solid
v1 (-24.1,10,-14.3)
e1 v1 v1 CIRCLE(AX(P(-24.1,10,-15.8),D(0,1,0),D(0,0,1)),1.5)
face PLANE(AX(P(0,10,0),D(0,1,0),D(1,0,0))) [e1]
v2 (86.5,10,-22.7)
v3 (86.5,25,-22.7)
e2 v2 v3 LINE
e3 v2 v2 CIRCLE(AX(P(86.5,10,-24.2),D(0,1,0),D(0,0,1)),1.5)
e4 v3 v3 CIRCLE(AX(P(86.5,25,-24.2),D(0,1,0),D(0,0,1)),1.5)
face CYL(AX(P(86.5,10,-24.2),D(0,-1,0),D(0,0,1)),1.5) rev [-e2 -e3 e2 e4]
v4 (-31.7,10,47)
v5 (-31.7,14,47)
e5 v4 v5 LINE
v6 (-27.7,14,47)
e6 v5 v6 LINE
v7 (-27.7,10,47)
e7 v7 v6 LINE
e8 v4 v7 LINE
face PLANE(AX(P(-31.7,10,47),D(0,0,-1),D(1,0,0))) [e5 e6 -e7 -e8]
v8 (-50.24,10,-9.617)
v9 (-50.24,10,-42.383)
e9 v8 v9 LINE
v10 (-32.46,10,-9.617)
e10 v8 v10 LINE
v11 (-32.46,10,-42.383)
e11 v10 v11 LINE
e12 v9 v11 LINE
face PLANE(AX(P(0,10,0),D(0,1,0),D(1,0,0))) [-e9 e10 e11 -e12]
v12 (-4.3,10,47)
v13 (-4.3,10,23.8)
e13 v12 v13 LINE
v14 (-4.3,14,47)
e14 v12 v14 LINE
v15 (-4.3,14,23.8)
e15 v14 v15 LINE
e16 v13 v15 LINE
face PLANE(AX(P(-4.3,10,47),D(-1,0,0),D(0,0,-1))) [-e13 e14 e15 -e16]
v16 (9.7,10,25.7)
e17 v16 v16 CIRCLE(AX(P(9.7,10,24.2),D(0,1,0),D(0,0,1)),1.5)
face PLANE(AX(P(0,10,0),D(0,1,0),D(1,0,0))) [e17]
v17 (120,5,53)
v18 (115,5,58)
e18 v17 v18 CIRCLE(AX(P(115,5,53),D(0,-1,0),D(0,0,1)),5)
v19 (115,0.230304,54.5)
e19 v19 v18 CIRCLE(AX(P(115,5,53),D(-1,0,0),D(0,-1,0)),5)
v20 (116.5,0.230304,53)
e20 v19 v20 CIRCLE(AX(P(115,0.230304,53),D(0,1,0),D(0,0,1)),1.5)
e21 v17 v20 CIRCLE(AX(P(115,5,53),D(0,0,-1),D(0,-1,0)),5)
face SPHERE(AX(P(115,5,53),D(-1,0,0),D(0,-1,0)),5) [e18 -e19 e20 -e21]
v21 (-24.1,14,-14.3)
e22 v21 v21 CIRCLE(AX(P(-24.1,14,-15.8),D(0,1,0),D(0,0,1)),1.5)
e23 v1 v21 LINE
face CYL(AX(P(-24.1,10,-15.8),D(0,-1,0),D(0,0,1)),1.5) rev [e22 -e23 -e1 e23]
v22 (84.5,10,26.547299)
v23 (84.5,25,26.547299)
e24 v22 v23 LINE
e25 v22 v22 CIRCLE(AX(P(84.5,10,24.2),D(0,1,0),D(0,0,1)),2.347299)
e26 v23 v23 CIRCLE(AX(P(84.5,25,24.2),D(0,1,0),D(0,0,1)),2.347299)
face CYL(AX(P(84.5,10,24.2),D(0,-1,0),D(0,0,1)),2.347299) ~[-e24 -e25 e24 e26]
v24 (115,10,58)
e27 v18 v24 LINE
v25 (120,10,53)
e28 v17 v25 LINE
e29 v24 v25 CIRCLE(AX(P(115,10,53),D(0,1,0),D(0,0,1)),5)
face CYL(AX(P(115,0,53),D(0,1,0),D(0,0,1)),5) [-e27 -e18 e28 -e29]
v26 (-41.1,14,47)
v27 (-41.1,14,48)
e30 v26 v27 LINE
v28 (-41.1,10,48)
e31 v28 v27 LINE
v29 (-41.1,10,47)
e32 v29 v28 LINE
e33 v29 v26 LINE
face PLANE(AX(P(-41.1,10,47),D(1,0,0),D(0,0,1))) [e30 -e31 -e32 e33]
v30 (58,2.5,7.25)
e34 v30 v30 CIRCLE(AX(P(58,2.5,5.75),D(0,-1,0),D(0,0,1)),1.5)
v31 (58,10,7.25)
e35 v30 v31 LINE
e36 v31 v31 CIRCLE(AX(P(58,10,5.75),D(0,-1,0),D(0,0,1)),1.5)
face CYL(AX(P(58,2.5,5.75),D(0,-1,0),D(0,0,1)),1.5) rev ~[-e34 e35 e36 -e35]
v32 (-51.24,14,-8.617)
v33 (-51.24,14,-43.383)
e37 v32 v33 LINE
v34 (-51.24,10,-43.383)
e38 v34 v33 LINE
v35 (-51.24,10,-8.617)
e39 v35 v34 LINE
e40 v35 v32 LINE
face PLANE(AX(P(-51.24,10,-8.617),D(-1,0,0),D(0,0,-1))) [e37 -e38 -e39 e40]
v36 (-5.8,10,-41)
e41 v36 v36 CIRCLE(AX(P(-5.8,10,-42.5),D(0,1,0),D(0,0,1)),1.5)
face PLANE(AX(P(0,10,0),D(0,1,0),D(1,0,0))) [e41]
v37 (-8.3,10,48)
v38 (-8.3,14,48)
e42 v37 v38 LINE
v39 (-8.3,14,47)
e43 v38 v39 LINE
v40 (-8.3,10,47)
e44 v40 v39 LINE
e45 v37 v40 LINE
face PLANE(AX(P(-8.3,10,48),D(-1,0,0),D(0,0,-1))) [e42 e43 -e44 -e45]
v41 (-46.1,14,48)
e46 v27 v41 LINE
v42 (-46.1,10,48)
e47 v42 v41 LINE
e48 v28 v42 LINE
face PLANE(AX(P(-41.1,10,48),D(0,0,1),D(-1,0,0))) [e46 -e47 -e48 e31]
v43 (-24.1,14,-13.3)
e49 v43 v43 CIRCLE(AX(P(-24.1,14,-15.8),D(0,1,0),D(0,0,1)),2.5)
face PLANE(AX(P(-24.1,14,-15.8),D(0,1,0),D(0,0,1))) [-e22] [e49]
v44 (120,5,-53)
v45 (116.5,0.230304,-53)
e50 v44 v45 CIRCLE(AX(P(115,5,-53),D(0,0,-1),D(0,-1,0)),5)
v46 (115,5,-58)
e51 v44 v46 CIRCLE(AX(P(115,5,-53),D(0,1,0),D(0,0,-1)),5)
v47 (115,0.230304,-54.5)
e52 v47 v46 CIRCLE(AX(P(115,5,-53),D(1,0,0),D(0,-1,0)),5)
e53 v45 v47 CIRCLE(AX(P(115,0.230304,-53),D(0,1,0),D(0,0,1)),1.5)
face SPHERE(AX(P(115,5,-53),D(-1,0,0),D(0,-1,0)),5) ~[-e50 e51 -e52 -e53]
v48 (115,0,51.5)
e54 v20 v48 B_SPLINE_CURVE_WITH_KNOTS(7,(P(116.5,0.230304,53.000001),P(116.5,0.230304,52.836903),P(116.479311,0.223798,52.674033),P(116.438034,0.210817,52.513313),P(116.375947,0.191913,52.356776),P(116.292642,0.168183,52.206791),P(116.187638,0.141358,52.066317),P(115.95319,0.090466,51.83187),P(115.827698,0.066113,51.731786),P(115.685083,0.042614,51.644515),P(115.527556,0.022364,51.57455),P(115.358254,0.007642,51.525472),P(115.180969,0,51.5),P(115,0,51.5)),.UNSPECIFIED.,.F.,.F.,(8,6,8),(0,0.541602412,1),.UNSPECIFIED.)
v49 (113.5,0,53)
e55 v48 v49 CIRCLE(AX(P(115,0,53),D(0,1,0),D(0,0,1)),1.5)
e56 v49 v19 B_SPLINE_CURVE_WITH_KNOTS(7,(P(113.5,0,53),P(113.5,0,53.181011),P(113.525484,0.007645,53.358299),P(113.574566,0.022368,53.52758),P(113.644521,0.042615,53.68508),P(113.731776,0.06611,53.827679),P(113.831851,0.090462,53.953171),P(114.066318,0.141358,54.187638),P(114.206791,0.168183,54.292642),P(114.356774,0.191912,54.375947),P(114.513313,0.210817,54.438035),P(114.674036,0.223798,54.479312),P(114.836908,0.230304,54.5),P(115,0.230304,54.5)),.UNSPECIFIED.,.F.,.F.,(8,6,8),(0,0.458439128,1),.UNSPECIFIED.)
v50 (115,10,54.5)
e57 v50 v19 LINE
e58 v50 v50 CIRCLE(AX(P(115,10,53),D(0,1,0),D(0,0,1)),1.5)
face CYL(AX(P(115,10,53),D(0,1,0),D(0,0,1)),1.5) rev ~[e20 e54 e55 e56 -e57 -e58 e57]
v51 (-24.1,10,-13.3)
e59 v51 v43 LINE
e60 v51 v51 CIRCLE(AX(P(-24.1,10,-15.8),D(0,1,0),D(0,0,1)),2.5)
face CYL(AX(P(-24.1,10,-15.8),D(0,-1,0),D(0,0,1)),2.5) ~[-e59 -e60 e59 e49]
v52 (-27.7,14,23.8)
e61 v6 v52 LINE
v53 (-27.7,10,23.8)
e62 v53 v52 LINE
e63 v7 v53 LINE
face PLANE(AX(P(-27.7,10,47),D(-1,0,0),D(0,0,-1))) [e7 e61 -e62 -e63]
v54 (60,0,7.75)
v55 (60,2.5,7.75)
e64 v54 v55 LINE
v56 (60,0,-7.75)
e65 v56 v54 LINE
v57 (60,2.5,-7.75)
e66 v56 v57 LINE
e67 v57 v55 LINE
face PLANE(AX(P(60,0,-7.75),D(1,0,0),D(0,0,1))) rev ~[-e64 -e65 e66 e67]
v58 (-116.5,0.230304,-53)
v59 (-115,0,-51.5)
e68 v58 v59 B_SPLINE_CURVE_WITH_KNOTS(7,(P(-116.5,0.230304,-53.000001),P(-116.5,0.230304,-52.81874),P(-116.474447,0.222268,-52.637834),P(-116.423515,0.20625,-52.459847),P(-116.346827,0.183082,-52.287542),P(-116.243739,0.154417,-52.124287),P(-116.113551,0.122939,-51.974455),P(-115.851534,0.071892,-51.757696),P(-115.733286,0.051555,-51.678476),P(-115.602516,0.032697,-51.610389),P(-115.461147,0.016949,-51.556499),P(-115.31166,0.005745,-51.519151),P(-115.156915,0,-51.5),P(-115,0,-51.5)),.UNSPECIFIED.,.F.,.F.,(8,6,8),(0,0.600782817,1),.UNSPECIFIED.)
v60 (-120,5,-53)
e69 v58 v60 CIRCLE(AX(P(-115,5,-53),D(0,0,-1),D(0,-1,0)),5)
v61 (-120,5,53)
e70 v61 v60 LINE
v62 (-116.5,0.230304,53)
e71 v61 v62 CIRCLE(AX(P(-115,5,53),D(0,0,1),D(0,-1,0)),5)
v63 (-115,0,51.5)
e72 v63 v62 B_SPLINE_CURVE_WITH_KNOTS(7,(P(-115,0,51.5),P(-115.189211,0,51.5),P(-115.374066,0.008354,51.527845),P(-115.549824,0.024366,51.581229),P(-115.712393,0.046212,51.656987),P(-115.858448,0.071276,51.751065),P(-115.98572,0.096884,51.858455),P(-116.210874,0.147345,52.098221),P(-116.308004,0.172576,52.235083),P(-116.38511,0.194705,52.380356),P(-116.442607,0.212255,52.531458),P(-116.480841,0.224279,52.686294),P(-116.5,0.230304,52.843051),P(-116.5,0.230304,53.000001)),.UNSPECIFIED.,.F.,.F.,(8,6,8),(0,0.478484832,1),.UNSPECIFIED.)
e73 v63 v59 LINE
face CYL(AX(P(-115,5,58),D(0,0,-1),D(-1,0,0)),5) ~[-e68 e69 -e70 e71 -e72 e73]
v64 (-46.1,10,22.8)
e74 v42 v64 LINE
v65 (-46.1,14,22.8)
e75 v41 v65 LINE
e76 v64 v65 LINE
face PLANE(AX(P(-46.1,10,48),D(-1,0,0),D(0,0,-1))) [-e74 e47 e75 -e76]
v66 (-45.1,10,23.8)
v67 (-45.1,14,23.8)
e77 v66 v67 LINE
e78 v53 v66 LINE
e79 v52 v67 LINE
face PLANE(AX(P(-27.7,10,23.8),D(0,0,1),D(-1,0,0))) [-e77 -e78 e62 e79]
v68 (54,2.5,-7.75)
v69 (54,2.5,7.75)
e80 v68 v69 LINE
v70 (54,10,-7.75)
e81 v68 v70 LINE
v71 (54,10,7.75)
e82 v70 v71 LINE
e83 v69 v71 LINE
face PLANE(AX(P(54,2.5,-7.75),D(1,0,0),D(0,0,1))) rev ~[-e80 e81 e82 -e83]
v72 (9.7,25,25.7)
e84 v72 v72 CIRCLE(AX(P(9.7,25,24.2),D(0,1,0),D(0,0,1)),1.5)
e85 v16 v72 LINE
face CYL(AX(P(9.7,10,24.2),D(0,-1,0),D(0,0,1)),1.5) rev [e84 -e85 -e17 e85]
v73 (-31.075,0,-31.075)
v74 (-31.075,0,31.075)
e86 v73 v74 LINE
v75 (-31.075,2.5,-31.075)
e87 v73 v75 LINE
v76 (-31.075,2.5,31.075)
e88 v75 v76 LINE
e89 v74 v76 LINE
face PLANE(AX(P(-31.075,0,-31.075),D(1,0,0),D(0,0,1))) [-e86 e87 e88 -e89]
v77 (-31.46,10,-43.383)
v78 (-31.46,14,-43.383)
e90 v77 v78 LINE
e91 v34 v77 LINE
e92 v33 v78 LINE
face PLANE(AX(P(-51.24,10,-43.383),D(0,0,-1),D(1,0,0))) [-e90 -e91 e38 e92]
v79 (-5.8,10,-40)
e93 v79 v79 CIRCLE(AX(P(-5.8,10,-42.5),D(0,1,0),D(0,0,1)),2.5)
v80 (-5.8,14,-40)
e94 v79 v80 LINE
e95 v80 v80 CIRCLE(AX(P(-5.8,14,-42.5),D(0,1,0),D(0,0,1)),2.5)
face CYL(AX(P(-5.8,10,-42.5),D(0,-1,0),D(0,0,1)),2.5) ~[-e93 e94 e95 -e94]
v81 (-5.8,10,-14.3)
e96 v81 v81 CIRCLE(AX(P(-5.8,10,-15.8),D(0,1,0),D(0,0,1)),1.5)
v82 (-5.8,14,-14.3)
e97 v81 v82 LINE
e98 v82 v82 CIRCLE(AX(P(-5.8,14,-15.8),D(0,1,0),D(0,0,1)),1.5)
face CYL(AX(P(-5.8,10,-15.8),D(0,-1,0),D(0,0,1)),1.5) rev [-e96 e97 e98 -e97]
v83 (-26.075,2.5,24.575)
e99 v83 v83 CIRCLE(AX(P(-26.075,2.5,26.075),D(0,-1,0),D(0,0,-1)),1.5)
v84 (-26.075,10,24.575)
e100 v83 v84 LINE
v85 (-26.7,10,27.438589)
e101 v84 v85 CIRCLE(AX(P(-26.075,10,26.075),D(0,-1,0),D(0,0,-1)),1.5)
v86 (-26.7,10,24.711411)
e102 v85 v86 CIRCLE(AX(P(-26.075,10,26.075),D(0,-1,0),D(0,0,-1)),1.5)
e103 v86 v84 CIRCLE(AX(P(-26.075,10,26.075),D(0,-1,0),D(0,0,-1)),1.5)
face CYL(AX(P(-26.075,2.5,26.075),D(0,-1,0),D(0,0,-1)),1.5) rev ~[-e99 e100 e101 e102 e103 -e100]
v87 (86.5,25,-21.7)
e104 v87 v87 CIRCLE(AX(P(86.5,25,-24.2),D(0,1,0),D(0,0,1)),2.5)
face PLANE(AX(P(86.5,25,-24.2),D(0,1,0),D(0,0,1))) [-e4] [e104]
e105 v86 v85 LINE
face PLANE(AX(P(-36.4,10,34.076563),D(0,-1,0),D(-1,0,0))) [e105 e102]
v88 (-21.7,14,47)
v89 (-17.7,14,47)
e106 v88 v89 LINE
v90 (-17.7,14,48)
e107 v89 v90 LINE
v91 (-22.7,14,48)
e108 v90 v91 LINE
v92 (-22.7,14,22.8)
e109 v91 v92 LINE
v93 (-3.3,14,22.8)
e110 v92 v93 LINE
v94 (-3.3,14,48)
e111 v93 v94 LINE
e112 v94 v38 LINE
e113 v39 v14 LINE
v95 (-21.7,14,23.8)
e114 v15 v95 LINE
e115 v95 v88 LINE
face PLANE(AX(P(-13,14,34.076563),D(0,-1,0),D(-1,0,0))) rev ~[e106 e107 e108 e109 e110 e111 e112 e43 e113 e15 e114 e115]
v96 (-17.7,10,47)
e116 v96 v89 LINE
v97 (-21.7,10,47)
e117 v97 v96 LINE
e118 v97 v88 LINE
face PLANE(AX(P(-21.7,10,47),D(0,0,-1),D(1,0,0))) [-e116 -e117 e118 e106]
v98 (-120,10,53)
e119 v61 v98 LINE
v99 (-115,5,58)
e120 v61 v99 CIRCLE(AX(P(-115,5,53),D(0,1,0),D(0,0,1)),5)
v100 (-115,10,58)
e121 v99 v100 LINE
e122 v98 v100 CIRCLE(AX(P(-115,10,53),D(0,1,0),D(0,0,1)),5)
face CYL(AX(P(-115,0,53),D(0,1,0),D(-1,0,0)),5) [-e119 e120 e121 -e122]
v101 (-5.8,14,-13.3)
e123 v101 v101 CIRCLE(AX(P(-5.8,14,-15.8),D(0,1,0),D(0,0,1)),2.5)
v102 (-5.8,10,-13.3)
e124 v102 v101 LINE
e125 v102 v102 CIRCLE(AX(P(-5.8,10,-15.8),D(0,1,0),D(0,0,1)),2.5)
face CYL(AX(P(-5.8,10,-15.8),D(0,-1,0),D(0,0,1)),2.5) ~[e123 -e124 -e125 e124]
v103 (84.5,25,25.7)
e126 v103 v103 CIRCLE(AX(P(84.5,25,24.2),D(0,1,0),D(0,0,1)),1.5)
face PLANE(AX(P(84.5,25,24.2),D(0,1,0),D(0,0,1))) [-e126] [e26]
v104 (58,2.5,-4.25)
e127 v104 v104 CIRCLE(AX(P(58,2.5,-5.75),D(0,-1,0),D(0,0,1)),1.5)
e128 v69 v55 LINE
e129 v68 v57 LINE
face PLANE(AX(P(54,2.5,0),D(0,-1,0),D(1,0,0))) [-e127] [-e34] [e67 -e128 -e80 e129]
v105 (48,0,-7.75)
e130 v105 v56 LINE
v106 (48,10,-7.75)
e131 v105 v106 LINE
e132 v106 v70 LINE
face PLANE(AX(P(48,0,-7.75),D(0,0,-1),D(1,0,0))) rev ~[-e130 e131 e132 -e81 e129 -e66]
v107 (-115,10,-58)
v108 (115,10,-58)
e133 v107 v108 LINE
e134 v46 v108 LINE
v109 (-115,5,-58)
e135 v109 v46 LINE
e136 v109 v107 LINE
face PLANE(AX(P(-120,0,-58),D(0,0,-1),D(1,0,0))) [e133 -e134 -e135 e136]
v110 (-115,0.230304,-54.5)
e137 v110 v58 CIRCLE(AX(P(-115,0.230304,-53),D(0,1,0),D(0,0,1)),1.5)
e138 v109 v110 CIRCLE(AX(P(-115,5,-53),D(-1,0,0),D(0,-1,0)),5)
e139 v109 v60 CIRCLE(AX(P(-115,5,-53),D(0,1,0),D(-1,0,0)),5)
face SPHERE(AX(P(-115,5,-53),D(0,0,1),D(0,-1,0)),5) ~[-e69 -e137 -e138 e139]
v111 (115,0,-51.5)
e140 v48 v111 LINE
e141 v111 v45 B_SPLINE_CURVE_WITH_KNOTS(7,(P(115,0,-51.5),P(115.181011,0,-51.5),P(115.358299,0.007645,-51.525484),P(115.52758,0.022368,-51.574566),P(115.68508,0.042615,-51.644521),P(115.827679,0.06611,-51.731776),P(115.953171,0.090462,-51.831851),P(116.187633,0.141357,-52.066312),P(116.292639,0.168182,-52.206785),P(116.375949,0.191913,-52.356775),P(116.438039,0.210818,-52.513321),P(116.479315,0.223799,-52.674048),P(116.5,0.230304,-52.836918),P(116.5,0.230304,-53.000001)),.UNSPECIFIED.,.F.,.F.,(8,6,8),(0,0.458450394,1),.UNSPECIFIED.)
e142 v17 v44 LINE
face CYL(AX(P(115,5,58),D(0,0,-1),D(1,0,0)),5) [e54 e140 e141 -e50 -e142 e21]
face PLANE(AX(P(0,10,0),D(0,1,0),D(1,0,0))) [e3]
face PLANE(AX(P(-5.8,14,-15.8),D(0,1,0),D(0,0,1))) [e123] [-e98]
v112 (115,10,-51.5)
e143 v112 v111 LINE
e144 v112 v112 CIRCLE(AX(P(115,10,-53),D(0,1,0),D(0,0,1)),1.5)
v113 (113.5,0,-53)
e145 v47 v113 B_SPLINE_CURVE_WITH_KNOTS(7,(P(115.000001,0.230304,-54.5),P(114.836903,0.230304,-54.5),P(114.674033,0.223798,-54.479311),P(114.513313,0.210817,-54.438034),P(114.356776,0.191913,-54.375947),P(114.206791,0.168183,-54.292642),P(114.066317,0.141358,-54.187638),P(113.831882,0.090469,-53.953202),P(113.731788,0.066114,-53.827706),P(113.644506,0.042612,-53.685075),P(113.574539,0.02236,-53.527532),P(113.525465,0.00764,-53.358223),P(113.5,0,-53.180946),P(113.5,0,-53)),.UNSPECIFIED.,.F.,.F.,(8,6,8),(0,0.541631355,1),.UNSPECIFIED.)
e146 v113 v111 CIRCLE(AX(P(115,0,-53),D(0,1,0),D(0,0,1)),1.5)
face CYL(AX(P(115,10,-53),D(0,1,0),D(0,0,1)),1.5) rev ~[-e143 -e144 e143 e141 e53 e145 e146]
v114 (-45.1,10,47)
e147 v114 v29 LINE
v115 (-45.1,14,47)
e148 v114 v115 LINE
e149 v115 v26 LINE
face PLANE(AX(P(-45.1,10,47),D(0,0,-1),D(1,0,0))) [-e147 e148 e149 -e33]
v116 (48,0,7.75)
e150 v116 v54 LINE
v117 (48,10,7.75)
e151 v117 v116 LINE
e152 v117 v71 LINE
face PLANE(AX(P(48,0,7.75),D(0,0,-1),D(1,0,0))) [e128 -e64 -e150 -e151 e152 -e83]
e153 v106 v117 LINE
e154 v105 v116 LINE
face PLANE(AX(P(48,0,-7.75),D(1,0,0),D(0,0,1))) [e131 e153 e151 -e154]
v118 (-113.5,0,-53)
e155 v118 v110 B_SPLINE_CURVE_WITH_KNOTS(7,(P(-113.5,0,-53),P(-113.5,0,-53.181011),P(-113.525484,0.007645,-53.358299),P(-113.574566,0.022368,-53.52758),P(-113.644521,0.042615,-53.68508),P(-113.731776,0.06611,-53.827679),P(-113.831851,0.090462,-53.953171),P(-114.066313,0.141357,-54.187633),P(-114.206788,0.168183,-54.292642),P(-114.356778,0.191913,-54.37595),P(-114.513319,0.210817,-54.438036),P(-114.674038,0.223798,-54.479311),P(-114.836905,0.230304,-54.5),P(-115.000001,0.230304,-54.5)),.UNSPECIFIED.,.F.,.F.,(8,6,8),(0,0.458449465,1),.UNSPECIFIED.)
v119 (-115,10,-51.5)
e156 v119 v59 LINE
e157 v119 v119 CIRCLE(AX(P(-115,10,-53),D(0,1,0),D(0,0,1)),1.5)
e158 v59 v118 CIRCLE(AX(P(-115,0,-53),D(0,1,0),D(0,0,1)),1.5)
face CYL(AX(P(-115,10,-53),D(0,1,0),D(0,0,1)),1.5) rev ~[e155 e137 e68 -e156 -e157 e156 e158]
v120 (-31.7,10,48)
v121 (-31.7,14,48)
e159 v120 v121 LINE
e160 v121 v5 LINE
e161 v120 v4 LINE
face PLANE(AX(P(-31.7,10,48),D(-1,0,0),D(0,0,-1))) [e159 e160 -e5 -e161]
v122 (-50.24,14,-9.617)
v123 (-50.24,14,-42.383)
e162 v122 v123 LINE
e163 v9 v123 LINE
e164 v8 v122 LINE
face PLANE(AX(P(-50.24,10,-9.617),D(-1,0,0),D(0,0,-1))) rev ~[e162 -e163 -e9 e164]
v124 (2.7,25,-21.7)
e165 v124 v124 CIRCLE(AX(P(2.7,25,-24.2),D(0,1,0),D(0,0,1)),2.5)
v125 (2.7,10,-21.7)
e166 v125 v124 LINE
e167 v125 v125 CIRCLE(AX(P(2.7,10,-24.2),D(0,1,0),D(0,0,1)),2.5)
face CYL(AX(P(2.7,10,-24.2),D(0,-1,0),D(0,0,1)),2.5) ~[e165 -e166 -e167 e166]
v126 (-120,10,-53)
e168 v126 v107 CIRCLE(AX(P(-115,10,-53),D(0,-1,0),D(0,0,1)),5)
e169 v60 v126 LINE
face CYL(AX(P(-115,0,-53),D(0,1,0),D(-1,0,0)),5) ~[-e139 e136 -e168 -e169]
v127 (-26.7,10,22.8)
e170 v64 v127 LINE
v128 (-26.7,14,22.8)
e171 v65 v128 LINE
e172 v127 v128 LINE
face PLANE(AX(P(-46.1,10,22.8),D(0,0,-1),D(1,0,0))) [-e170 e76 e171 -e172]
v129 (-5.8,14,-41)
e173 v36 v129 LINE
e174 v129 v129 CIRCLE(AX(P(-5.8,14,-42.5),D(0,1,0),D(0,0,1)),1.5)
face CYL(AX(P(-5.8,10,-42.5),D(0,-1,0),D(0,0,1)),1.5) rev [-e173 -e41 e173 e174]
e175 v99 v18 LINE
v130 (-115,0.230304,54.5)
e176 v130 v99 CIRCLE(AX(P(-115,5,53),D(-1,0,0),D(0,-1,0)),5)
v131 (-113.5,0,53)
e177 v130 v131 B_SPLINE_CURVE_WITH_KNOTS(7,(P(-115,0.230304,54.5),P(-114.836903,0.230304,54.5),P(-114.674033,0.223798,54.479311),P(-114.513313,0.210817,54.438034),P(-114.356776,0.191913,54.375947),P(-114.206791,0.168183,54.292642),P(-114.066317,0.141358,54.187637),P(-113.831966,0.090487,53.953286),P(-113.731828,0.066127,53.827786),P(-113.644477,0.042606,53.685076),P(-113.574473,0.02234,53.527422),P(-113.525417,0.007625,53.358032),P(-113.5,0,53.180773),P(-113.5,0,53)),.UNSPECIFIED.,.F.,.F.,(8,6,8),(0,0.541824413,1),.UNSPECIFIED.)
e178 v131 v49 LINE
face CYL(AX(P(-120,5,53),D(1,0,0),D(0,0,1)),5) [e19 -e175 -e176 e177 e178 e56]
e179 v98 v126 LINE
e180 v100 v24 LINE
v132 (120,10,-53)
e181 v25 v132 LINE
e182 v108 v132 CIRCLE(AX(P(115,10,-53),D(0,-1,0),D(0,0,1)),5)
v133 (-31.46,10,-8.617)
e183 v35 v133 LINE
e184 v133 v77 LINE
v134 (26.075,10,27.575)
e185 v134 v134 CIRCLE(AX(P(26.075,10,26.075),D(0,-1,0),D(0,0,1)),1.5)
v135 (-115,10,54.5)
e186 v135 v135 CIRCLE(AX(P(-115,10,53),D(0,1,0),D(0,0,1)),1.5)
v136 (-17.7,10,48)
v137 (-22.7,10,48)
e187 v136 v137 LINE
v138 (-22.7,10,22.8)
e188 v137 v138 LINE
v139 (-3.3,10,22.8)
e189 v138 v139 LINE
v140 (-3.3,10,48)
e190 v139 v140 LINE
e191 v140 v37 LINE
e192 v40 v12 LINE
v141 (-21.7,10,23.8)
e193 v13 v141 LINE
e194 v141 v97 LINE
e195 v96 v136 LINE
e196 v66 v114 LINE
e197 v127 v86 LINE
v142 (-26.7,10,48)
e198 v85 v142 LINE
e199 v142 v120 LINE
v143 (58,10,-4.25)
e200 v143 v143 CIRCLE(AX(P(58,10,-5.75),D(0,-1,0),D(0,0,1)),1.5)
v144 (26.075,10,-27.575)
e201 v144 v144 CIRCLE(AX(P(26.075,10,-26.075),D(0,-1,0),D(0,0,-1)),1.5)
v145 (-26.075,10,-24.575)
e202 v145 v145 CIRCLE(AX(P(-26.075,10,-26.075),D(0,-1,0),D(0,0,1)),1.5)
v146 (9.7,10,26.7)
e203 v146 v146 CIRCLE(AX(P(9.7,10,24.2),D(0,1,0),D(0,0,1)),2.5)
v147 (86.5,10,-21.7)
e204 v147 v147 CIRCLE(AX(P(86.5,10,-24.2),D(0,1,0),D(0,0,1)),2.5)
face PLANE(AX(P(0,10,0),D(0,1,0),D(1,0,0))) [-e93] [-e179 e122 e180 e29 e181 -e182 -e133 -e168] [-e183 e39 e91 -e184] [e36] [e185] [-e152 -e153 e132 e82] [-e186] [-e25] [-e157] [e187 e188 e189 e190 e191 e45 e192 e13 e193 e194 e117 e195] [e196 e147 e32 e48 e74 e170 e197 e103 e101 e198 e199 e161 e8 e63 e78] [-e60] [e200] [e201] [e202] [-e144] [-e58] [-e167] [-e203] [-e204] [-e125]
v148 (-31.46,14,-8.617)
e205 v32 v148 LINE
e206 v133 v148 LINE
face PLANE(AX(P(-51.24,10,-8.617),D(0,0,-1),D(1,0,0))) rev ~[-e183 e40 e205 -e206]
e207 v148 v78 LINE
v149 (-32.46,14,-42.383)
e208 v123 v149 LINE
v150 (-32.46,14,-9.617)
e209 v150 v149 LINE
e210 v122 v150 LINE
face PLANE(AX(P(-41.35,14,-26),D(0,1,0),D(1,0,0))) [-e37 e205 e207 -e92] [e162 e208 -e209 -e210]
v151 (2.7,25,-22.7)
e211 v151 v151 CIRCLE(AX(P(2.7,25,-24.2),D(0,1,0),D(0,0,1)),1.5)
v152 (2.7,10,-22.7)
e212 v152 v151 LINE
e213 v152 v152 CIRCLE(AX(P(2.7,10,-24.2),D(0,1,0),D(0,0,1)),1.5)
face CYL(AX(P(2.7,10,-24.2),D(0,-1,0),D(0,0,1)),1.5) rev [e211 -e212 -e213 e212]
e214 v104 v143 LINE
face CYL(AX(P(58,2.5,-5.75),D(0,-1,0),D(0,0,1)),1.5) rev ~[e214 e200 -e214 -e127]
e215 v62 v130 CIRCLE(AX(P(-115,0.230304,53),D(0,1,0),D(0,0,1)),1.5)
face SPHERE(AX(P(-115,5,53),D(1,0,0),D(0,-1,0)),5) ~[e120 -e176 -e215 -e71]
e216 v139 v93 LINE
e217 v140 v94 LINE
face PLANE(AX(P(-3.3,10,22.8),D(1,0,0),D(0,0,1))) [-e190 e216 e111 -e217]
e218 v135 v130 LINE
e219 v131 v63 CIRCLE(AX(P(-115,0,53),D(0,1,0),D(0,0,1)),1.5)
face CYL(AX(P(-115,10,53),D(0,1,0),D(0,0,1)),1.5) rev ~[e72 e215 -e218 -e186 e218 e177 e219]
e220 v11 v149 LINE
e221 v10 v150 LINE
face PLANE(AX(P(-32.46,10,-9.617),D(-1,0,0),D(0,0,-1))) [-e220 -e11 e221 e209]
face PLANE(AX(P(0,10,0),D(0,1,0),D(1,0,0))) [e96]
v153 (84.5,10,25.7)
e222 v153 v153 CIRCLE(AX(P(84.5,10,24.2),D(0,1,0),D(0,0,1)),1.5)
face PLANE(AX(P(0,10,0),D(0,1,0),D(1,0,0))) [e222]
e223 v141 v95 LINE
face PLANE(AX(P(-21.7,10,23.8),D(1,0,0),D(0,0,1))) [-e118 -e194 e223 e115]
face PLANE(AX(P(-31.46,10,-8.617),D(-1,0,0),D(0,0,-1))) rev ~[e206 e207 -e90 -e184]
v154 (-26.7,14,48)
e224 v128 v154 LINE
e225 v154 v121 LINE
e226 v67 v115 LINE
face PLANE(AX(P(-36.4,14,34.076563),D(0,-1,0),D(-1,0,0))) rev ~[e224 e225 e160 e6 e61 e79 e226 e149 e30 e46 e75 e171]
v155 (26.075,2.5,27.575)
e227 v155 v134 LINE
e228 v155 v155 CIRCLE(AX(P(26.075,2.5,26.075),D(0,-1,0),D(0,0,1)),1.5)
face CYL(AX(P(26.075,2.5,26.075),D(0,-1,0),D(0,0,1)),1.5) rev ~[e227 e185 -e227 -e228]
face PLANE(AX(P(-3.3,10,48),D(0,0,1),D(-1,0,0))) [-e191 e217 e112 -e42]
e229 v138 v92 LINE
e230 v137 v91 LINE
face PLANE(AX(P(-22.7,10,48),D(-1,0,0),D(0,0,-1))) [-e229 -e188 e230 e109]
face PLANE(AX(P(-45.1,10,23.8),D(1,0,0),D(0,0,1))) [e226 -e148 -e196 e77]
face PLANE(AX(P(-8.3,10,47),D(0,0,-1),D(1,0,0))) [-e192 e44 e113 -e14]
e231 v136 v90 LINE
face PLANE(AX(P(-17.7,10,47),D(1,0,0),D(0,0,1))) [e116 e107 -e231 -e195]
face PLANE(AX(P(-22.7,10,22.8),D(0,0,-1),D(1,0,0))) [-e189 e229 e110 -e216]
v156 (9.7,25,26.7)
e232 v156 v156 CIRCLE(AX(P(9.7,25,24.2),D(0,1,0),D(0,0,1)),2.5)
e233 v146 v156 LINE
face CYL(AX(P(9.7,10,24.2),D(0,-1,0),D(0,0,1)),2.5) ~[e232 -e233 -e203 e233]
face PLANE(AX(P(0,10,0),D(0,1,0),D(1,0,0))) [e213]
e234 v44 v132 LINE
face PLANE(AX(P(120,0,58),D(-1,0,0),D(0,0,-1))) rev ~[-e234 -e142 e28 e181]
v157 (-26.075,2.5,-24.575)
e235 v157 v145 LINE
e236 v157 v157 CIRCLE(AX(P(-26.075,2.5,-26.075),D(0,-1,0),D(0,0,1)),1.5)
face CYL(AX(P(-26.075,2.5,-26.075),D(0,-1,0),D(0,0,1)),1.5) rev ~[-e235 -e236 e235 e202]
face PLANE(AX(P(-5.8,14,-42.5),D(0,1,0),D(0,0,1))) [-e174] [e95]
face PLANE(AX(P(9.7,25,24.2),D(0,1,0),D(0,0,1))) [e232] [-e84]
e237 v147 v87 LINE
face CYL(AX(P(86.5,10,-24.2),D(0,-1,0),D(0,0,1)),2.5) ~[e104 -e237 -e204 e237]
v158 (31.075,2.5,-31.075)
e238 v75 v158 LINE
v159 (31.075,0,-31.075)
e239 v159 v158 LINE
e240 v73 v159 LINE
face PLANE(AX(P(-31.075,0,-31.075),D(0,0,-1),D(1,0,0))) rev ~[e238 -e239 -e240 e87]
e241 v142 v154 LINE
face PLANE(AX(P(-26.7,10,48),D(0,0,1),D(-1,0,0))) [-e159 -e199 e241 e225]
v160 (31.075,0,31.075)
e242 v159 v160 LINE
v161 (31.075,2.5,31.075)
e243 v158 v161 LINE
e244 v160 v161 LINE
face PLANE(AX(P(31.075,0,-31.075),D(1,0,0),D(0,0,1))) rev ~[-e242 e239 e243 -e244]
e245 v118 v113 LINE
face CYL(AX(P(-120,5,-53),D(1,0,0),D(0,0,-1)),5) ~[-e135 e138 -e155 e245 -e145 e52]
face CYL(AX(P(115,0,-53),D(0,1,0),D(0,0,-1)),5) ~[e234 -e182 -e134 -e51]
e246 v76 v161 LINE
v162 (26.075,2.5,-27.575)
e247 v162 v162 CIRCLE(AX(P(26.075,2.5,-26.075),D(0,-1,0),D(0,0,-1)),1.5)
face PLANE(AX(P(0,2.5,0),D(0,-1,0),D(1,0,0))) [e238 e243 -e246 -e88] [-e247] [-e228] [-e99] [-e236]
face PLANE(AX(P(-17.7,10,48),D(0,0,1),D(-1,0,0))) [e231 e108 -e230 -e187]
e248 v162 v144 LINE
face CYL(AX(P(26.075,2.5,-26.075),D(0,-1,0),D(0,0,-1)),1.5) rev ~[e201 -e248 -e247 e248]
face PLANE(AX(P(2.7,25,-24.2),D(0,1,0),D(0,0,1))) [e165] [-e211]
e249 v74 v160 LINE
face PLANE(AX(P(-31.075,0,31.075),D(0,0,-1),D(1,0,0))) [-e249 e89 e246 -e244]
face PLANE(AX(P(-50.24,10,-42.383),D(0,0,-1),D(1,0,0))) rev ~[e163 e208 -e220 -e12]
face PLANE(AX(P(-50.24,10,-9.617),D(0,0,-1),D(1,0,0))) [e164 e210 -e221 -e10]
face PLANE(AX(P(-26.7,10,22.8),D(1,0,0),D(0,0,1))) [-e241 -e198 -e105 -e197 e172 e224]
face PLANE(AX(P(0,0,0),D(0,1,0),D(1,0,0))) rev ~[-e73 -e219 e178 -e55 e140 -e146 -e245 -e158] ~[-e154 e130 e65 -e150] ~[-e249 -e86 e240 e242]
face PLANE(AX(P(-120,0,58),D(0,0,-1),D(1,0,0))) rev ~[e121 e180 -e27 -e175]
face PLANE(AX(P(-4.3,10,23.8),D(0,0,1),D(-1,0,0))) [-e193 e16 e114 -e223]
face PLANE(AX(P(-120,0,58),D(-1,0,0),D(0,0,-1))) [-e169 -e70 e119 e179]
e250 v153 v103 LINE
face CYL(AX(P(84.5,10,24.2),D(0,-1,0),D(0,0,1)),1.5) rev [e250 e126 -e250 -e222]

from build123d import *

# Parameters (mm, degrees)
SKETCH1_W                      = 240
SKETCH1_H                      = 116
BOSS_EXTRUDE1_DEPTH            = 10
SKETCH2_W                      = 62.15
SKETCH2_H                      = 62.15
CUT_EXTRUDE1_DEPTH             = 2.5
CUT_EXTRUDE2_REACH             = 135.493
SKETCH3_R                      = 1.5
SKETCH4_W                      = 12
SKETCH4_H                      = 15.5
CUT_EXTRUDE3_DEPTH             = 2.5
CUT_EXTRUDE4_REACH             = 135.493
SKETCH6_R                      = 1.5
CUT_EXTRUDE4_DIRECTION_2_DEPTH = 134.492509153
CUT_EXTRUDE5_REACH             = 135.493
SKETCH7_W                      = 6
SKETCH7_H                      = 15.5
SKETCH8_R                      = 2.5
SKETCH8_R_2                    = 1.5
SKETCH8_R_3                    = 2.347298944
BOSS_EXTRUDE2_DEPTH            = 15
SKETCH9_R                      = 2.5
SKETCH9_R_2                    = 1.5
SKETCH9_W                      = 19.78
SKETCH9_H                      = 34.766
SKETCH9_W_2                    = 17.78
SKETCH9_H_2                    = 32.766
BOSS_EXTRUDE3_DEPTH            = 4
FILLET1_R                      = 5
CUT_EXTRUDE15_REACH            = 136.123
SKETCH25_R                     = 1.5


with BuildPart() as part:
    # Sketch1 → Boss-Extrude1 (new body)
    with BuildSketch(Plane(origin=(0, 0, 0), x_dir=(1, 0, 0), z_dir=(0, 1, 0))):
        Rectangle(SKETCH1_W, SKETCH1_H)
    extrude(amount=BOSS_EXTRUDE1_DEPTH)

    # Sketch2 → Cut-Extrude1 (cut)
    with BuildSketch(Plane.XZ):
        Rectangle(SKETCH2_W, SKETCH2_H)
    extrude(amount=-CUT_EXTRUDE1_DEPTH, mode=Mode.SUBTRACT)

    # Sketch3 → Cut-Extrude2 (cut, up to next)
    with BuildSketch(Plane.XZ.offset(-2.5), mode=Mode.PRIVATE) as cut_extrude2_sk1:
        with Locations(Location((-26.075, 26.075, 0), (0, 0, 270))):
            Circle(SKETCH3_R)
    cut_extrude2_tool1 = extrude(cut_extrude2_sk1.sketch, amount=-CUT_EXTRUDE2_REACH, mode=Mode.PRIVATE) & part.part
    # Sketch3 → Cut-Extrude2 (cut, up to next)
    with BuildSketch(Plane.XZ.offset(-2.5), mode=Mode.PRIVATE) as cut_extrude2_sk2:
        with Locations(Location((-26.075, -26.075, 0), (0, 0, 90))):
            Circle(SKETCH3_R)
    cut_extrude2_tool2 = extrude(cut_extrude2_sk2.sketch, amount=-CUT_EXTRUDE2_REACH, mode=Mode.PRIVATE) & part.part
    # Sketch3 → Cut-Extrude2 (cut, up to next)
    with BuildSketch(Plane.XZ.offset(-2.5), mode=Mode.PRIVATE) as cut_extrude2_sk3:
        with Locations(Location((26.075, -26.075, 0), (0, 0, 270))):
            Circle(SKETCH3_R)
    cut_extrude2_tool3 = extrude(cut_extrude2_sk3.sketch, amount=-CUT_EXTRUDE2_REACH, mode=Mode.PRIVATE) & part.part
    # Sketch3 → Cut-Extrude2 (cut, up to next)
    with BuildSketch(Plane.XZ.offset(-2.5), mode=Mode.PRIVATE) as cut_extrude2_sk4:
        with Locations(Location((26.075, 26.075, 0), (0, 0, 90))):
            Circle(SKETCH3_R)
    cut_extrude2_tool4 = extrude(cut_extrude2_sk4.sketch, amount=-CUT_EXTRUDE2_REACH, mode=Mode.PRIVATE) & part.part
    add(cut_extrude2_tool1.solids().sort_by_distance((-26.075, 2.5, 26.075))[0], mode=Mode.SUBTRACT)
    add(cut_extrude2_tool2.solids().sort_by_distance((-26.075, 2.5, -26.075))[0], mode=Mode.SUBTRACT)
    add(cut_extrude2_tool3.solids().sort_by_distance((26.075, 2.5, -26.075))[0], mode=Mode.SUBTRACT)
    add(cut_extrude2_tool4.solids().sort_by_distance((26.075, 2.5, 26.075))[0], mode=Mode.SUBTRACT)

    # Sketch4 → Cut-Extrude3 (cut)
    with BuildSketch(Plane.XZ):
        with Locations((54, 0)):
            Rectangle(SKETCH4_W, SKETCH4_H)
    extrude(amount=-CUT_EXTRUDE3_DEPTH, mode=Mode.SUBTRACT)

    # Sketch6 → Cut-Extrude4 (cut, up to next)
    with BuildSketch(Plane.XZ.offset(-2.5), mode=Mode.PRIVATE) as cut_extrude4_sk1:
        with Locations(Location((58, 5.75, 0), (0, 0, 90))):
            Circle(SKETCH6_R)
    cut_extrude4_tool1 = extrude(cut_extrude4_sk1.sketch, amount=-CUT_EXTRUDE4_REACH, mode=Mode.PRIVATE) & part.part
    # Sketch6 → Cut-Extrude4 (cut, up to next)
    with BuildSketch(Plane.XZ.offset(-2.5), mode=Mode.PRIVATE) as cut_extrude4_sk2:
        with Locations(Location((58, -5.75, 0), (0, 0, 90))):
            Circle(SKETCH6_R)
    cut_extrude4_tool2 = extrude(cut_extrude4_sk2.sketch, amount=-CUT_EXTRUDE4_REACH, mode=Mode.PRIVATE) & part.part
    add(cut_extrude4_tool1.solids().sort_by_distance((58, 2.5, 5.75))[0], mode=Mode.SUBTRACT)
    add(cut_extrude4_tool2.solids().sort_by_distance((58, 2.5, -5.75))[0], mode=Mode.SUBTRACT)

    # Sketch6 → Cut-Extrude4 direction 2 (cut)
    with BuildSketch(Plane.XZ.offset(-2.5)):
        with Locations(Location((58, 5.75, 0), (0, 0, 90))):
            Circle(SKETCH6_R)
        with Locations(Location((58, -5.75, 0), (0, 0, 90))):
            Circle(SKETCH6_R)
    extrude(amount=CUT_EXTRUDE4_DIRECTION_2_DEPTH, mode=Mode.SUBTRACT)

    # Sketch7 → Cut-Extrude5 (cut, up to next)
    with BuildSketch(Plane.XZ.offset(-2.5), mode=Mode.PRIVATE) as cut_extrude5_sk1:
        with Locations((51, 0)):
            Rectangle(SKETCH7_W, SKETCH7_H)
    cut_extrude5_tool1 = extrude(cut_extrude5_sk1.sketch, amount=-CUT_EXTRUDE5_REACH, mode=Mode.PRIVATE) & part.part
    add(cut_extrude5_tool1.solids().sort_by_distance((51, 2.5, 0))[0], mode=Mode.SUBTRACT)

    # Sketch8 → Boss-Extrude2 (add)
    # profile 1 of 4: a face of its own
    with BuildSketch(Plane(origin=(0, 10, 0), x_dir=(1, 0, 0), z_dir=(0, 1, 0))):
        with Locations(Location((86.5, 24.2, 0), (0, 0, 270))):
            Circle(SKETCH8_R)
        with Locations(Location((86.5, 24.2, 0), (0, 0, 270))):
            Circle(SKETCH8_R_2, mode=Mode.SUBTRACT)
    # profile 2 of 4: a face of its own
    with BuildSketch(Plane(origin=(0, 10, 0), x_dir=(1, 0, 0), z_dir=(0, 1, 0))):
        with Locations(Location((84.5, -24.2, 0), (0, 0, 270))):
            Circle(SKETCH8_R_3)
        with Locations(Location((84.5, -24.2, 0), (0, 0, 270))):
            Circle(SKETCH8_R_2, mode=Mode.SUBTRACT)
    # profile 3 of 4: a face of its own
    with BuildSketch(Plane(origin=(0, 10, 0), x_dir=(1, 0, 0), z_dir=(0, 1, 0))):
        with Locations(Location((9.7, -24.2, 0), (0, 0, 270))):
            Circle(SKETCH8_R)
        with Locations(Location((9.7, -24.2, 0), (0, 0, 270))):
            Circle(SKETCH8_R_2, mode=Mode.SUBTRACT)
    # profile 4 of 4: a face of its own
    with BuildSketch(Plane(origin=(0, 10, 0), x_dir=(1, 0, 0), z_dir=(0, 1, 0))):
        with Locations(Location((2.7, 24.2, 0), (0, 0, 270))):
            Circle(SKETCH8_R)
        with Locations(Location((2.7, 24.2, 0), (0, 0, 270))):
            Circle(SKETCH8_R_2, mode=Mode.SUBTRACT)
    extrude(amount=BOSS_EXTRUDE2_DEPTH)

    # Sketch9 → Boss-Extrude3 (add)
    # profile 1 of 6: a face of its own
    with BuildSketch(Plane(origin=(0, 10, 0), x_dir=(1, 0, 0), z_dir=(0, 1, 0))):
        with Locations(Location((-24.1, 15.8, 0), (0, 0, 270))):
            Circle(SKETCH9_R)
        with Locations(Location((-24.1, 15.8, 0), (0, 0, 270))):
            Circle(SKETCH9_R_2, mode=Mode.SUBTRACT)
    # profile 2 of 6: a face of its own
    with BuildSketch(Plane(origin=(0, 10, 0), x_dir=(1, 0, 0), z_dir=(0, 1, 0))):
        with Locations(Location((-5.8, 15.8, 0), (0, 0, 270))):
            Circle(SKETCH9_R)
        with Locations(Location((-5.8, 15.8, 0), (0, 0, 270))):
            Circle(SKETCH9_R_2, mode=Mode.SUBTRACT)
    # profile 3 of 6: a face of its own
    with BuildSketch(Plane(origin=(0, 10, 0), x_dir=(1, 0, 0), z_dir=(0, 1, 0))):
        with Locations(Location((-5.8, 42.5, 0), (0, 0, 270))):
            Circle(SKETCH9_R)
        with Locations(Location((-5.8, 42.5, 0), (0, 0, 270))):
            Circle(SKETCH9_R_2, mode=Mode.SUBTRACT)
    # profile 4 of 6: a face of its own
    with BuildSketch(Plane(origin=(0, 10, 0), x_dir=(1, 0, 0), z_dir=(0, 1, 0))):
        Polygon((-17.7, -47), (-17.7, -48), (-22.7, -48), (-22.7, -22.8), (-3.3, -22.8), (-3.3, -48), (-8.3, -48), (-8.3, -47), (-4.3, -47), (-4.3, -23.8), (-21.7, -23.8), (-21.7, -47), align=None)
    # profile 5 of 6: a face of its own
    with BuildSketch(Plane(origin=(0, 10, 0), x_dir=(1, 0, 0), z_dir=(0, 1, 0))):
        Polygon((-41.1, -48), (-46.1, -48), (-46.1, -22.8), (-26.7, -22.8), (-26.7, -48), (-31.7, -48), (-31.7, -47), (-27.7, -47), (-27.7, -23.8), (-45.1, -23.8), (-45.1, -47), (-41.1, -47), align=None)
    # profile 6 of 6: a face of its own
    with BuildSketch(Plane(origin=(0, 10, 0), x_dir=(1, 0, 0), z_dir=(0, 1, 0))):
        with Locations((-41.35, 26)):
            Rectangle(SKETCH9_W, SKETCH9_H)
        with Locations((-41.35, 26)):
            Rectangle(SKETCH9_W_2, SKETCH9_H_2, mode=Mode.SUBTRACT)
    extrude(amount=BOSS_EXTRUDE3_DEPTH)

    # Fillet1
    fillet1_edges = [part.edges().sort_by_distance(p)[0] for p in [
        (0, 0, 58),
        (-120, 0, 0),
        (0, 0, -58),
        (120, 0, 0),
        (120, 5, 58),
        (-120, 5, 58),
        (-120, 5, -58),
        (120, 5, -58),
    ]]
    fillet(fillet1_edges, radius=FILLET1_R)

    # Sketch25 → Cut-Extrude15 (cut, up to next)
    with BuildSketch(Plane(origin=(0, 10, 0), x_dir=(1, 0, 0), z_dir=(0, 1, 0)), mode=Mode.PRIVATE) as cut_extrude15_sk1:
        with Locations(Location((-115, 53, 0), (0, 0, 270))):
            Circle(SKETCH25_R)
    cut_extrude15_tool1 = extrude(cut_extrude15_sk1.sketch, amount=-CUT_EXTRUDE15_REACH, mode=Mode.PRIVATE) & part.part
    # Sketch25 → Cut-Extrude15 (cut, up to next)
    with BuildSketch(Plane(origin=(0, 10, 0), x_dir=(1, 0, 0), z_dir=(0, 1, 0)), mode=Mode.PRIVATE) as cut_extrude15_sk2:
        with Locations(Location((-115, -53, 0), (0, 0, 270))):
            Circle(SKETCH25_R)
    cut_extrude15_tool2 = extrude(cut_extrude15_sk2.sketch, amount=-CUT_EXTRUDE15_REACH, mode=Mode.PRIVATE) & part.part
    # Sketch25 → Cut-Extrude15 (cut, up to next)
    with BuildSketch(Plane(origin=(0, 10, 0), x_dir=(1, 0, 0), z_dir=(0, 1, 0)), mode=Mode.PRIVATE) as cut_extrude15_sk3:
        with Locations(Location((115, -53, 0), (0, 0, 270))):
            Circle(SKETCH25_R)
    cut_extrude15_tool3 = extrude(cut_extrude15_sk3.sketch, amount=-CUT_EXTRUDE15_REACH, mode=Mode.PRIVATE) & part.part
    # Sketch25 → Cut-Extrude15 (cut, up to next)
    with BuildSketch(Plane(origin=(0, 10, 0), x_dir=(1, 0, 0), z_dir=(0, 1, 0)), mode=Mode.PRIVATE) as cut_extrude15_sk4:
        with Locations(Location((115, 53, 0), (0, 0, 270))):
            Circle(SKETCH25_R)
    cut_extrude15_tool4 = extrude(cut_extrude15_sk4.sketch, amount=-CUT_EXTRUDE15_REACH, mode=Mode.PRIVATE) & part.part
    add(cut_extrude15_tool1.solids().sort_by_distance((-115, 10, -53))[0], mode=Mode.SUBTRACT)
    add(cut_extrude15_tool2.solids().sort_by_distance((-115, 10, 53))[0], mode=Mode.SUBTRACT)
    add(cut_extrude15_tool3.solids().sort_by_distance((115, 10, 53))[0], mode=Mode.SUBTRACT)
    add(cut_extrude15_tool4.solids().sort_by_distance((115, 10, -53))[0], mode=Mode.SUBTRACT)


solid = part.part
